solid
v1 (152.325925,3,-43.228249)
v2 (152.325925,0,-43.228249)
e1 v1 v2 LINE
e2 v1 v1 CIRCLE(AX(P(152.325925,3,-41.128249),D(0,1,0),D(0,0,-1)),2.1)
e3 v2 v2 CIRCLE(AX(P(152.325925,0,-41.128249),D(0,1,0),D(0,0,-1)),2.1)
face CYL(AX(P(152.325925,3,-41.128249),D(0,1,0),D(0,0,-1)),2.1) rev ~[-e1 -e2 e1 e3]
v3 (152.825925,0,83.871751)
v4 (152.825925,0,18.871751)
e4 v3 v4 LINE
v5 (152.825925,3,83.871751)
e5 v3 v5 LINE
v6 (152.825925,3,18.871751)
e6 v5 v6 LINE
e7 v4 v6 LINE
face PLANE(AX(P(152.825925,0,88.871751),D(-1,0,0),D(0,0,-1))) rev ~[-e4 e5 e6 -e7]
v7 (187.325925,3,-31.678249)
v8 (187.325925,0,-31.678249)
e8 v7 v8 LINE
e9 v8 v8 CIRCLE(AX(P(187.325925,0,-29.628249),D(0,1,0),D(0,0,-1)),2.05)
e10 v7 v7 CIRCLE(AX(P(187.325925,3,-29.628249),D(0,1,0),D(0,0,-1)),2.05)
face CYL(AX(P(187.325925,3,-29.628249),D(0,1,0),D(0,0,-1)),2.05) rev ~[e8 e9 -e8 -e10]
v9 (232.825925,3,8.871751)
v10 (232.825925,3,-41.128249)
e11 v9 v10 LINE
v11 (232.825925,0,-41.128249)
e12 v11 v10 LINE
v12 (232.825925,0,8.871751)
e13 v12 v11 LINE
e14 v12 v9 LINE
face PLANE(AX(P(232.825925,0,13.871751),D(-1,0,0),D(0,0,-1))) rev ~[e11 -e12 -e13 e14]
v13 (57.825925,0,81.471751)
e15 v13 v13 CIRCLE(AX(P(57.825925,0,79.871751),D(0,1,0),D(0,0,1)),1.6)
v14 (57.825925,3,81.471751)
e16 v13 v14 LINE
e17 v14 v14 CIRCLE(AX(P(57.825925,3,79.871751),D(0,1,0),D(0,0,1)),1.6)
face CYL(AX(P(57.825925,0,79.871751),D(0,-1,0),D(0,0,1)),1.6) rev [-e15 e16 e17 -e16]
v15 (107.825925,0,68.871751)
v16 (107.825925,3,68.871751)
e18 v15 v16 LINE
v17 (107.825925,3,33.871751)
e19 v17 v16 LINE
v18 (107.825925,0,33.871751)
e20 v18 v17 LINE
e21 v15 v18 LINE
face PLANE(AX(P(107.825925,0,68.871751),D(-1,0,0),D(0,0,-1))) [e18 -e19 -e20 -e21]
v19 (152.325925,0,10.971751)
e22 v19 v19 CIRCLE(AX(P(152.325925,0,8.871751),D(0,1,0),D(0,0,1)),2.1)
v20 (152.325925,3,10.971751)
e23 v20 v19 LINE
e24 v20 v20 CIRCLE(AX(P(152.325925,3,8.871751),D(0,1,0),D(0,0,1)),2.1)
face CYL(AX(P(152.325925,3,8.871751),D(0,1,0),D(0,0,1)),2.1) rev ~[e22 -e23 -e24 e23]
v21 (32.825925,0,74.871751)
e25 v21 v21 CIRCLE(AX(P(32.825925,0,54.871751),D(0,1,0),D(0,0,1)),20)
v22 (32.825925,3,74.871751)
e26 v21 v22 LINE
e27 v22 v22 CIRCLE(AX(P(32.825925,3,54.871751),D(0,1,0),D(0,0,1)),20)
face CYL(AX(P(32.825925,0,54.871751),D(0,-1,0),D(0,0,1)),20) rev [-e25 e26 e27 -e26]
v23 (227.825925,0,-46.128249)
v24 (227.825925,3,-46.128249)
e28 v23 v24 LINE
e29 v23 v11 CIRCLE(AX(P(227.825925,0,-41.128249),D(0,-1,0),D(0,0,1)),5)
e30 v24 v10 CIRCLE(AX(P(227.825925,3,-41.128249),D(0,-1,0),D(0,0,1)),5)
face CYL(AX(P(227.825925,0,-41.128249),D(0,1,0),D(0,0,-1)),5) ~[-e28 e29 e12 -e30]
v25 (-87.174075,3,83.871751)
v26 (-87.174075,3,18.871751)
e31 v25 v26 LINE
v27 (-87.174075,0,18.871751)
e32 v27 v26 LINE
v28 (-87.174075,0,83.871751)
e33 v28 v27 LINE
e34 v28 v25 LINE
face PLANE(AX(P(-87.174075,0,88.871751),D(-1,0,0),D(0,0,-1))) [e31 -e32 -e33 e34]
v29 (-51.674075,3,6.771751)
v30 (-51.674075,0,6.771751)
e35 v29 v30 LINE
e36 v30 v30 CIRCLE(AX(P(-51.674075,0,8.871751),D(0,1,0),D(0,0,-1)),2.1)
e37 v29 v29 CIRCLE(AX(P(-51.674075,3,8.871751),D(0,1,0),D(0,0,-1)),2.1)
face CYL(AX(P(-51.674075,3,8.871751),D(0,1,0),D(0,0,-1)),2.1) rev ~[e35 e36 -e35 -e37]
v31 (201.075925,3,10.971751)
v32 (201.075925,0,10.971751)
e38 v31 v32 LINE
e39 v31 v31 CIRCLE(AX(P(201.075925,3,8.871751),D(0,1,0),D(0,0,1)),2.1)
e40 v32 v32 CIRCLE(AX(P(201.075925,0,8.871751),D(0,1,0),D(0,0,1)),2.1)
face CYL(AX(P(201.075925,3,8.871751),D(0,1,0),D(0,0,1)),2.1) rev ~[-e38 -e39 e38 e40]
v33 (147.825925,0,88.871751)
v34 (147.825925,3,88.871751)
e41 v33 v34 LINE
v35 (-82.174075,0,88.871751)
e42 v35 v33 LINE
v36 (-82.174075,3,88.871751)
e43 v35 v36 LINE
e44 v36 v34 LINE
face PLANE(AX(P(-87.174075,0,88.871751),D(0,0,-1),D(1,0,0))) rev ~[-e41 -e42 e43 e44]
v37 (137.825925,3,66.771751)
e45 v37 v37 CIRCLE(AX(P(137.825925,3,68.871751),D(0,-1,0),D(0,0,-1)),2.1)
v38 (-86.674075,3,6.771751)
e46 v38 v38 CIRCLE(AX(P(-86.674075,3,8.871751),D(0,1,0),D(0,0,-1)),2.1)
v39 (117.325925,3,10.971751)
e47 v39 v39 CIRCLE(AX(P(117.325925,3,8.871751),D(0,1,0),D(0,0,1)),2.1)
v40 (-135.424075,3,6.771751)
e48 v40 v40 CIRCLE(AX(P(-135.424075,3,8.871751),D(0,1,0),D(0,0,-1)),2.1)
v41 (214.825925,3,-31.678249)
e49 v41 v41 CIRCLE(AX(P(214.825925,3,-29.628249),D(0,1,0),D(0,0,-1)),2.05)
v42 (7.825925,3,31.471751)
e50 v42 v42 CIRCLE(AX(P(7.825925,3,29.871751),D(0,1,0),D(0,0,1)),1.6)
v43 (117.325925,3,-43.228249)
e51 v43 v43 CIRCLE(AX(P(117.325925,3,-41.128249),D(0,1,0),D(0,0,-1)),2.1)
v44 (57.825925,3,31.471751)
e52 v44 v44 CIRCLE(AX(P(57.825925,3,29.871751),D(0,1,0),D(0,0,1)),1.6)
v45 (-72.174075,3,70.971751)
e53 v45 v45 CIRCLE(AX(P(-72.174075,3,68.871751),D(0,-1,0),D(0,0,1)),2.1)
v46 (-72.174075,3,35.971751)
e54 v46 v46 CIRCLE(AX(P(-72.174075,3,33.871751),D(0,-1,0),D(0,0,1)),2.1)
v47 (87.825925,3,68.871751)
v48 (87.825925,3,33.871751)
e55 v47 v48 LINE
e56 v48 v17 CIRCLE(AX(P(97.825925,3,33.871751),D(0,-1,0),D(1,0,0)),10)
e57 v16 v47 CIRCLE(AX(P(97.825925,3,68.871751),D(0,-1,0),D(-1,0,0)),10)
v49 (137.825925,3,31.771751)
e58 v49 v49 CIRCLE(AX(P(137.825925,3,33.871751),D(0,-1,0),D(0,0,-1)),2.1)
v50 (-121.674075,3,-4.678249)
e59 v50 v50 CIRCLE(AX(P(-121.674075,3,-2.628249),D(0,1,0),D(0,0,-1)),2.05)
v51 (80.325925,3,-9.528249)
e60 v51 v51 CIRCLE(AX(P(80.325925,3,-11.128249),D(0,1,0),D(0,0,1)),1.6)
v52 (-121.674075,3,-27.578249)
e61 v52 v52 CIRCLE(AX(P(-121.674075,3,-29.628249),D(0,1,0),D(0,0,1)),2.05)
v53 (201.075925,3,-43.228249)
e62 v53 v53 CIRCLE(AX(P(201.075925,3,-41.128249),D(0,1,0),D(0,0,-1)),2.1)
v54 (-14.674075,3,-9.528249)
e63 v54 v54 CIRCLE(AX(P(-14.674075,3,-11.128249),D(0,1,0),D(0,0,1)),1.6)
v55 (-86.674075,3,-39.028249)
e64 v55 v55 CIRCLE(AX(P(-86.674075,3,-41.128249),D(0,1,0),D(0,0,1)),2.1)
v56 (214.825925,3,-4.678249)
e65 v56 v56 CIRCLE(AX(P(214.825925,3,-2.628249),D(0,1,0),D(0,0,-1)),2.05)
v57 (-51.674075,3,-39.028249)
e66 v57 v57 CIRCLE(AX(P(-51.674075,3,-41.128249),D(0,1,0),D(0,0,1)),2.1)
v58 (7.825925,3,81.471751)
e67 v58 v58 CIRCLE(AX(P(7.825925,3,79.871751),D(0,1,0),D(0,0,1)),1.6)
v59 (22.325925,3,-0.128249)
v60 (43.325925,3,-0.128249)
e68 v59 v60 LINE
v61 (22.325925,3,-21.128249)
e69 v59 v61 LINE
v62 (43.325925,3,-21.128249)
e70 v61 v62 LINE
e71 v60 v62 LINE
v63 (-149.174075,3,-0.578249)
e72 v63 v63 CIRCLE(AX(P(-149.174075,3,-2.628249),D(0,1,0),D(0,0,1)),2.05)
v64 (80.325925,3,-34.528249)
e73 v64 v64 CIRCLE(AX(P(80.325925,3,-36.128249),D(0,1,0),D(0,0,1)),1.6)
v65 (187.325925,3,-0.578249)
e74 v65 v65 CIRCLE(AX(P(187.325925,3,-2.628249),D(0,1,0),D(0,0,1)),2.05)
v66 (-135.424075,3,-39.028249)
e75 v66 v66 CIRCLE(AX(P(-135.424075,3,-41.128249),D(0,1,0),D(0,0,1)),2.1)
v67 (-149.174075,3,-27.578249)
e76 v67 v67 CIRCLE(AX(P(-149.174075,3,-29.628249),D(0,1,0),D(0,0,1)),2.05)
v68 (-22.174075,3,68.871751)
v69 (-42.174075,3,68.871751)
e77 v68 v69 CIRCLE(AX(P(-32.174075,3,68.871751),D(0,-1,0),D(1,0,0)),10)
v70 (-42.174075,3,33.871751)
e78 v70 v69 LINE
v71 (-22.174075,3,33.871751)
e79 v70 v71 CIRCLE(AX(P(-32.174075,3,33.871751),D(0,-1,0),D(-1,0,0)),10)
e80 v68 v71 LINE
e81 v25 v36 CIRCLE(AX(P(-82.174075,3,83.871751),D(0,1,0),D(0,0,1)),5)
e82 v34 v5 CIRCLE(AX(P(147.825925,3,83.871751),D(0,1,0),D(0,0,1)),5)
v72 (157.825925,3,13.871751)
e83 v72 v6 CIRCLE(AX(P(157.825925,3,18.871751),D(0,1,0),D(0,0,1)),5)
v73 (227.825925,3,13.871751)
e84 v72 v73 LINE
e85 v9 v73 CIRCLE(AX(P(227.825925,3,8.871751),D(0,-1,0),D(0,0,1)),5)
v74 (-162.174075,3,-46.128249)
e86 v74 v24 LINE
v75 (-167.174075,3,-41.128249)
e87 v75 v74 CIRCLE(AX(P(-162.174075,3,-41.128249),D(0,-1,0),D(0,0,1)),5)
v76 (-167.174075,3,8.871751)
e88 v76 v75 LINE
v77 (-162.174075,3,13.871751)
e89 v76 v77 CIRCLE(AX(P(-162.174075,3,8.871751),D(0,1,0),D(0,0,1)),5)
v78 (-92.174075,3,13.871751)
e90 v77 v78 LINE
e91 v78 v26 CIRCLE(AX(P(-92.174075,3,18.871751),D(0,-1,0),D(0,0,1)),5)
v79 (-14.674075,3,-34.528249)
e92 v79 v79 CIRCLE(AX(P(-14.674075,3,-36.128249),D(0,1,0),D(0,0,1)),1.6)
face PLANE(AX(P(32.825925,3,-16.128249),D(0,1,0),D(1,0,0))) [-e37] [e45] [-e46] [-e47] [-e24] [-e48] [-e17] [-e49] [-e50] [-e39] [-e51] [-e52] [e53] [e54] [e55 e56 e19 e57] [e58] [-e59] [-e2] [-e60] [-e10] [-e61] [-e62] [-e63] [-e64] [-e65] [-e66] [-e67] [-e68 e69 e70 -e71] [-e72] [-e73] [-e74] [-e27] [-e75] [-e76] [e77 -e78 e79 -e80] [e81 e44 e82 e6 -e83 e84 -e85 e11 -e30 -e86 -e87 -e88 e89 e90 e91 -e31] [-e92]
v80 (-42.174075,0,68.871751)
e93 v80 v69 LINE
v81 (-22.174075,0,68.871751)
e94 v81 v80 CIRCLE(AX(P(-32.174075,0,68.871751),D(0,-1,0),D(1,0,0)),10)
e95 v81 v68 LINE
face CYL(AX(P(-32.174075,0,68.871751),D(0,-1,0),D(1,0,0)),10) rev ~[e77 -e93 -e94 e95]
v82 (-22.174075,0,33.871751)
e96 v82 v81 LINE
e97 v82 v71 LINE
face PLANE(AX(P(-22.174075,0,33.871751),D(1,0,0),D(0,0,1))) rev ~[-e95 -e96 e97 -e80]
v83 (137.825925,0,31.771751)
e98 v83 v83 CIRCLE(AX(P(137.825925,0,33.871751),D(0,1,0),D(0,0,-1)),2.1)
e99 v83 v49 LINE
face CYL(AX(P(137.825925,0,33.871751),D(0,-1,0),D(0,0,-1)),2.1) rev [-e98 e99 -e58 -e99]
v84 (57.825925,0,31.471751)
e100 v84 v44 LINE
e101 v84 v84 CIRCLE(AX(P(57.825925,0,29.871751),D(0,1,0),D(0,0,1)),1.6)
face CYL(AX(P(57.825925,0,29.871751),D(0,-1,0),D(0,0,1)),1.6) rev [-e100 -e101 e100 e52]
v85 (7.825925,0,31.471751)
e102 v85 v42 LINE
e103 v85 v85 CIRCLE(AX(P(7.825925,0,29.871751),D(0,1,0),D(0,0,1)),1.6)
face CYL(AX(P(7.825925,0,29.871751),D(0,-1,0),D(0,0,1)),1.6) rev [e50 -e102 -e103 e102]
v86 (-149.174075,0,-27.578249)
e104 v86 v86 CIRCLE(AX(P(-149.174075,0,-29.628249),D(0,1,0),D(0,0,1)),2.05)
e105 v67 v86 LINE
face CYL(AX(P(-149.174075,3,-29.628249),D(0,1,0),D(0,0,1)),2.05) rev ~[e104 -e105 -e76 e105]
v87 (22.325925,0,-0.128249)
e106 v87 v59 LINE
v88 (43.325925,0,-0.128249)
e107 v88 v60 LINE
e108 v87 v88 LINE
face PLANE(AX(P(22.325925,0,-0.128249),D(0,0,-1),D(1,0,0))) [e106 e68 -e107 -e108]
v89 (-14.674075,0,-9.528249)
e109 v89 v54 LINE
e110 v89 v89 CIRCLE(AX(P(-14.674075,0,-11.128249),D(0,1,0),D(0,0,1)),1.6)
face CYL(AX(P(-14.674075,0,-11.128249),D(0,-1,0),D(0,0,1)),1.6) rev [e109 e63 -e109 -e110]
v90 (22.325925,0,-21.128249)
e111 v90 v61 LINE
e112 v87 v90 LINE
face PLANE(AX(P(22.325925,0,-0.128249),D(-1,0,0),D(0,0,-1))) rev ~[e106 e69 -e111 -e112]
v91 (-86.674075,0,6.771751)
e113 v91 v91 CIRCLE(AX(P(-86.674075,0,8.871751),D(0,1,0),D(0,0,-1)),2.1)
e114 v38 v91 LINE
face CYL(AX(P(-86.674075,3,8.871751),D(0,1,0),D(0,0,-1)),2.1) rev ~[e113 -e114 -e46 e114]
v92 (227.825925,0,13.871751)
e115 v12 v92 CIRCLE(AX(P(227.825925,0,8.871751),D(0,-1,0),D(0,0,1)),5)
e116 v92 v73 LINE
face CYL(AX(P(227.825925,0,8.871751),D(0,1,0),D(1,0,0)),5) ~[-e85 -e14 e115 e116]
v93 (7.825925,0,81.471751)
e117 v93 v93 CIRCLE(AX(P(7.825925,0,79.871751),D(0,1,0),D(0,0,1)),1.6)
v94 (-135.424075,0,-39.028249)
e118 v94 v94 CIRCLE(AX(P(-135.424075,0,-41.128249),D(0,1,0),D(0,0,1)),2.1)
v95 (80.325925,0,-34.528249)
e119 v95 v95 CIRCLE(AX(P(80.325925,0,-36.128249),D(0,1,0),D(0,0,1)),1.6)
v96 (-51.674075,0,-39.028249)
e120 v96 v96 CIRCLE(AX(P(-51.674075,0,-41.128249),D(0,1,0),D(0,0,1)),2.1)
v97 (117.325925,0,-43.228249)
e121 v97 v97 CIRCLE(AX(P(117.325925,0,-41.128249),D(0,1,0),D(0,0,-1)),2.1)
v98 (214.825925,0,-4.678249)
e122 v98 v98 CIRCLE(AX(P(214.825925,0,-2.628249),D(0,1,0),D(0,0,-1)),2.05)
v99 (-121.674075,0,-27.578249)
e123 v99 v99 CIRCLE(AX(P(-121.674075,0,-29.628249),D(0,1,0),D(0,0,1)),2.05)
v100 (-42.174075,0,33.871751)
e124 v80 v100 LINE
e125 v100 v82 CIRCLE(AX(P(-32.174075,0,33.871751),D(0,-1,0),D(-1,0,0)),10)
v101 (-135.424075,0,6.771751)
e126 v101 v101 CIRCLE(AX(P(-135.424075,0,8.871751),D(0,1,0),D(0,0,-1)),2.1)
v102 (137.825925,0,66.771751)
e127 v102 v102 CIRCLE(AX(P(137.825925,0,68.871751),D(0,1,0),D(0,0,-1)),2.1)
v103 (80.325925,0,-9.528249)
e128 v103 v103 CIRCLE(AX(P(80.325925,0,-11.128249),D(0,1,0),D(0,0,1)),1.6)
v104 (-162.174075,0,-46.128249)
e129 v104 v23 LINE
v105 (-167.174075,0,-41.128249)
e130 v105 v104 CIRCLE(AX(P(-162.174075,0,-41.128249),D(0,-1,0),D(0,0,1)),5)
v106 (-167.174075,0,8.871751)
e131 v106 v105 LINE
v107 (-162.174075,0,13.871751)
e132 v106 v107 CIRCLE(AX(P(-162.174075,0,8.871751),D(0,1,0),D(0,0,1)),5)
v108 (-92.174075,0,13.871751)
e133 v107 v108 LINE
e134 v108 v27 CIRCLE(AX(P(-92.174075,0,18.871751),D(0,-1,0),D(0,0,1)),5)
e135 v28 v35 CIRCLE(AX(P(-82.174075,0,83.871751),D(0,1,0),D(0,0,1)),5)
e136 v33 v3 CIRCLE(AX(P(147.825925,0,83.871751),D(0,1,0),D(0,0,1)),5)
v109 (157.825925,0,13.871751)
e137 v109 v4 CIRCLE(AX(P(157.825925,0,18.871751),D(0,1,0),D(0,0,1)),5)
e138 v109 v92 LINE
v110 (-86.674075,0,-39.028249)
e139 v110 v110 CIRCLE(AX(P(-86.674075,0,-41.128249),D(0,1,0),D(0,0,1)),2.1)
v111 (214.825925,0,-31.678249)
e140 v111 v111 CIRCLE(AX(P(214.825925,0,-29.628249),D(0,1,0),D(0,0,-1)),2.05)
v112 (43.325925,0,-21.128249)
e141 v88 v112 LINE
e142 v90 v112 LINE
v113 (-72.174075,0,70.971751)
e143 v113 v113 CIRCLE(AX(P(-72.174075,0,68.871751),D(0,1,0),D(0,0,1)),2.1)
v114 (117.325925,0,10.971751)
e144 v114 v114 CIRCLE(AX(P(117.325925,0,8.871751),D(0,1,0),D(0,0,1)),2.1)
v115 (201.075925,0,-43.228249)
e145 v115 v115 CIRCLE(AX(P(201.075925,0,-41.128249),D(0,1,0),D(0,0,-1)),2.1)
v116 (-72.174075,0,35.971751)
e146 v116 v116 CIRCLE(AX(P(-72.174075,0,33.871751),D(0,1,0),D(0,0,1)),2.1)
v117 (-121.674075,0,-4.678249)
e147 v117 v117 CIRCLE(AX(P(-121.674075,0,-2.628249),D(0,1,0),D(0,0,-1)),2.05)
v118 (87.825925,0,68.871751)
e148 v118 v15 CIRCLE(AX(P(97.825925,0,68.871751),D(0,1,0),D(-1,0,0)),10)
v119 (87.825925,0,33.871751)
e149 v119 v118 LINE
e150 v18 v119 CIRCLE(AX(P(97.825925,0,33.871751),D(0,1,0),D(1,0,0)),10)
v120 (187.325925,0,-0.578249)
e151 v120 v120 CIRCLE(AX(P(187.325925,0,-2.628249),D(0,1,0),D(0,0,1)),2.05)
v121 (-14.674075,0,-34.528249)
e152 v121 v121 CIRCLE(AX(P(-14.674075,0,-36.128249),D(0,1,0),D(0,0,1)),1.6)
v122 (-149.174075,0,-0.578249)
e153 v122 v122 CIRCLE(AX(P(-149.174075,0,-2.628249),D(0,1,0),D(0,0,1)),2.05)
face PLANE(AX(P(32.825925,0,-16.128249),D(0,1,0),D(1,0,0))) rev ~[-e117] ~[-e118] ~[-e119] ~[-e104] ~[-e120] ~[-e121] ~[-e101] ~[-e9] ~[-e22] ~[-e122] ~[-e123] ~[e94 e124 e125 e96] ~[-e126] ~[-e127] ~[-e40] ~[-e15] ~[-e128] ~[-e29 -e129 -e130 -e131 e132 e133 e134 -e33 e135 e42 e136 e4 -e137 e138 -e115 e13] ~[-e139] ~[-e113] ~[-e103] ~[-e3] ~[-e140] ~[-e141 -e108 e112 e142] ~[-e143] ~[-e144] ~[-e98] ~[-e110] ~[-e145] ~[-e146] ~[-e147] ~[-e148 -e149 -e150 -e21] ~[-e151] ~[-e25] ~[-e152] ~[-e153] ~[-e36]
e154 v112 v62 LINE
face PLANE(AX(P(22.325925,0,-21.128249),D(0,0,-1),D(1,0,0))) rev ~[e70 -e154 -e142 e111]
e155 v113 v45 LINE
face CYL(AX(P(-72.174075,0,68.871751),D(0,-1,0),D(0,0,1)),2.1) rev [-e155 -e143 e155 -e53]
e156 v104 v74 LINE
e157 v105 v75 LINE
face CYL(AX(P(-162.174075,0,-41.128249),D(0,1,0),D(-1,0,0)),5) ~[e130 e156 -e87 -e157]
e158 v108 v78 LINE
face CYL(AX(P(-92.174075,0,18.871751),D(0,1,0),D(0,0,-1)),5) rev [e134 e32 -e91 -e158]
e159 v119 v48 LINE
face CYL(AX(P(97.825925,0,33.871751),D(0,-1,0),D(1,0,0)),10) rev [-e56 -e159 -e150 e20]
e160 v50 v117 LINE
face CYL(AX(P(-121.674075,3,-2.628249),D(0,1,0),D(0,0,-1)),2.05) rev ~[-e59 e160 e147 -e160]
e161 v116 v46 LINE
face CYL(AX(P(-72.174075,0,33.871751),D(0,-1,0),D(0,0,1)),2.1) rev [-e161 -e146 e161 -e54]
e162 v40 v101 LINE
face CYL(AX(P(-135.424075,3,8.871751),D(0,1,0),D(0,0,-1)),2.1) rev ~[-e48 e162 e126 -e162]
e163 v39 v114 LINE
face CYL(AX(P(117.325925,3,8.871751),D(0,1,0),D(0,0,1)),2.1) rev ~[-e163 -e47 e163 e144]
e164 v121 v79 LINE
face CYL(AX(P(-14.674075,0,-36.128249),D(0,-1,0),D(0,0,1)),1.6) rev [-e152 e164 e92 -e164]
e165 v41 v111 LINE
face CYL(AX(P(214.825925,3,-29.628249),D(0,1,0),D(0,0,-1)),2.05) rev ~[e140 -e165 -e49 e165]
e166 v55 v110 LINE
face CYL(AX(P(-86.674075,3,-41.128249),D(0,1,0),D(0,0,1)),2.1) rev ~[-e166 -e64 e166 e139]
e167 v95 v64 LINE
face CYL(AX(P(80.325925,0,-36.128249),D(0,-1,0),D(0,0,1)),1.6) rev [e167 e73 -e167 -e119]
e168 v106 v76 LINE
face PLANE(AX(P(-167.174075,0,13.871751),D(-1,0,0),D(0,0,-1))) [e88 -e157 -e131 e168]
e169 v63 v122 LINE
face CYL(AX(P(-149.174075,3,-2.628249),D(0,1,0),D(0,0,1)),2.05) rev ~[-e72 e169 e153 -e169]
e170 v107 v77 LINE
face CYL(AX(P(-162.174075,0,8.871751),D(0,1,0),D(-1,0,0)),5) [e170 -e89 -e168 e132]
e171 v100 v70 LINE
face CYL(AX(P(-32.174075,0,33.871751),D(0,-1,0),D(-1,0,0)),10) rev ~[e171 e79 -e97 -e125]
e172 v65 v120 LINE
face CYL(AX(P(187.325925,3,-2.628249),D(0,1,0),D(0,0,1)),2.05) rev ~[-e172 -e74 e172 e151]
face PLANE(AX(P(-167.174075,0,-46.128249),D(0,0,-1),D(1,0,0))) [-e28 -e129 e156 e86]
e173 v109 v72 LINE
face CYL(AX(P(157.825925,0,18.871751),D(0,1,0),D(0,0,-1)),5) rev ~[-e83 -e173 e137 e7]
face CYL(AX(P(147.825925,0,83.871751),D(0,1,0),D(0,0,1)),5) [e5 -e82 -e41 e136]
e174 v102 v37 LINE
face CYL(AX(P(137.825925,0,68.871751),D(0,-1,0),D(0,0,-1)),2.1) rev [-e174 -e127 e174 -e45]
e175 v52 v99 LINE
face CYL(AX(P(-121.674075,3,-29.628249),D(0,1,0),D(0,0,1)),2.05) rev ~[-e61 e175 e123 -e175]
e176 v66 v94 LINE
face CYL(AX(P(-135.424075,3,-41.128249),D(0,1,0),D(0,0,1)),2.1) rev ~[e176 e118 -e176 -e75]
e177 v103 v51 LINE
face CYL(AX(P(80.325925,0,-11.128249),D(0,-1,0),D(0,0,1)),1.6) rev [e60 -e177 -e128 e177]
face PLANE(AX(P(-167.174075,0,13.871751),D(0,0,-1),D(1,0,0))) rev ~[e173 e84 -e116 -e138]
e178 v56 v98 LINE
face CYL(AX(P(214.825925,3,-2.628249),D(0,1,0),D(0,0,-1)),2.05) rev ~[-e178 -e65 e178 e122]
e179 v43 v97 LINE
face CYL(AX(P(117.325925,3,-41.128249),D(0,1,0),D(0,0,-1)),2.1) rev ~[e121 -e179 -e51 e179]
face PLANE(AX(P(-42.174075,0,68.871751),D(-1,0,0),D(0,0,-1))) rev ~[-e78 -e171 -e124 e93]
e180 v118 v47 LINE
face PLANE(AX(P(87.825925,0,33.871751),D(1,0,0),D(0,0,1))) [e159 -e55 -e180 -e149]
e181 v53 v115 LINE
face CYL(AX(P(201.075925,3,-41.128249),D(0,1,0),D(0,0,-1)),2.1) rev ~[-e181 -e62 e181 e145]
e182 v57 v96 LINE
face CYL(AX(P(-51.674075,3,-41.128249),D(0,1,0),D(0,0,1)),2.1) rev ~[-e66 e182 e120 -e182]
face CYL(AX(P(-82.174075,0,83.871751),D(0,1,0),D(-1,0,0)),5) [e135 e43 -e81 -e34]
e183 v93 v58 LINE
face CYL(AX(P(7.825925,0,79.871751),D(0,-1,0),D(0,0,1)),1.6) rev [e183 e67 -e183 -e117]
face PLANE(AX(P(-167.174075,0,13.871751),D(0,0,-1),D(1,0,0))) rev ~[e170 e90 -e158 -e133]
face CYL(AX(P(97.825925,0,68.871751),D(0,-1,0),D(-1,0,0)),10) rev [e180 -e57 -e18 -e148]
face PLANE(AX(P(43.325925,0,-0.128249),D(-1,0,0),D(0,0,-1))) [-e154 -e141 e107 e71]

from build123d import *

# Parameters (mm, degrees)
SKETCH_1_W          = 400
SKETCH_1_H          = 60
SKETCH_1_R          = 1.6
SKETCH_1_W_2        = 21
SKETCH_1_H_2        = 21
SKETCH_1_W_3        = 240
SKETCH_1_H_3        = 75
SKETCH_1_R_2        = 20
EXTRUDE_1466_DEPTH  = 3
SKETCH_2_R          = 2.05
SKETCH_2_R_2        = 2.1
CUT_EXTRUDE_1_DEPTH = 250.229009796
FILLET_1_R          = 5
SKETCH1_R           = 2.1
CUT_EXTRUDE4_DEPTH  = 250.229009796


with BuildPart() as part:
    # 草图1 → Extrude 1466 (new body)
    # profile 1 of 2: a face of its own
    with BuildSketch(Plane(origin=(0, 0, 0), x_dir=(1, 0, 0), z_dir=(0, 1, 0))):
        with Locations((32.825924772, 16.128249268)):
            Rectangle(SKETCH_1_W, SKETCH_1_H)
        with Locations(Location((-14.674075228, 36.128249268, 0), (0, 0, 270))):
            Circle(SKETCH_1_R, mode=Mode.SUBTRACT)
        with Locations(Location((-14.674075228, 11.128249268, 0), (0, 0, 270))):
            Circle(SKETCH_1_R, mode=Mode.SUBTRACT)
        with Locations(Location((80.325924772, 11.128249268, 0), (0, 0, 270))):
            Circle(SKETCH_1_R, mode=Mode.SUBTRACT)
        with Locations(Location((80.325924772, 36.128249268, 0), (0, 0, 270))):
            Circle(SKETCH_1_R, mode=Mode.SUBTRACT)
        with Locations((32.825924772, 10.628249268)):
            Rectangle(SKETCH_1_W_2, SKETCH_1_H_2, mode=Mode.SUBTRACT)
    # profile 2 of 2: a face of its own
    with BuildSketch(Plane(origin=(0, 0, 0), x_dir=(1, 0, 0), z_dir=(0, 1, 0))):
        with Locations((32.825924772, -51.371750732)):
            Rectangle(SKETCH_1_W_3, SKETCH_1_H_3)
        with Locations(Location((7.825924772, -29.871750732, 0), (0, 0, 270))):
            Circle(SKETCH_1_R, mode=Mode.SUBTRACT)
        with Locations(Location((7.825924772, -79.871750732, 0), (0, 0, 270))):
            Circle(SKETCH_1_R, mode=Mode.SUBTRACT)
        with Locations(Location((57.825924772, -79.871750732, 0), (0, 0, 270))):
            Circle(SKETCH_1_R, mode=Mode.SUBTRACT)
        with Locations(Location((57.825924772, -29.871750732, 0), (0, 0, 270))):
            Circle(SKETCH_1_R, mode=Mode.SUBTRACT)
        with Locations(Location((32.825924772, -54.871750732, 0), (0, 0, 270))):
            Circle(SKETCH_1_R_2, mode=Mode.SUBTRACT)
    extrude(amount=EXTRUDE_1466_DEPTH)

    # 草图2 → 切除-拉伸1 (cut, through all)
    with BuildSketch(Plane(origin=(0, 3, 0), x_dir=(1, 0, 0), z_dir=(0, 1, 0))):
        with Locations(Location((-149.174075228, 29.628249268, 0), (0, 0, 270))):
            Circle(SKETCH_2_R)
        with Locations(Location((-149.174075228, 2.628249268, 0), (0, 0, 270))):
            Circle(SKETCH_2_R)
        with Locations(Location((-121.674075228, 29.628249268, 0), (0, 0, 270))):
            Circle(SKETCH_2_R)
        with Locations(Location((-121.674075228, 2.628249268, 0), (0, 0, 90))):
            Circle(SKETCH_2_R)
        with Locations(Location((-51.674075228, 41.128249268, 0), (0, 0, 270))):
            Circle(SKETCH_2_R_2)
        with Locations(Location((-86.674075228, 41.128249268, 0), (0, 0, 270))):
            Circle(SKETCH_2_R_2)
        with Locations(Location((-51.674075228, -8.871750732, 0), (0, 0, 90))):
            Circle(SKETCH_2_R_2)
        with Locations(Location((-86.674075228, -8.871750732, 0), (0, 0, 90))):
            Circle(SKETCH_2_R_2)
        with Locations(Location((-135.424075228, 41.128249268, 0), (0, 0, 270))):
            Circle(SKETCH_2_R_2)
        with Locations(Location((-135.424075228, -8.871750732, 0), (0, 0, 90))):
            Circle(SKETCH_2_R_2)
        with Locations(Location((201.075924772, -8.871750732, 0), (0, 0, 270))):
            Circle(SKETCH_2_R_2)
        with Locations(Location((201.075924772, 41.128249268, 0), (0, 0, 90))):
            Circle(SKETCH_2_R_2)
        with Locations(Location((152.325924772, -8.871750732, 0), (0, 0, 270))):
            Circle(SKETCH_2_R_2)
        with Locations(Location((117.325924772, -8.871750732, 0), (0, 0, 270))):
            Circle(SKETCH_2_R_2)
        with Locations(Location((152.325924772, 41.128249268, 0), (0, 0, 90))):
            Circle(SKETCH_2_R_2)
        with Locations(Location((117.325924772, 41.128249268, 0), (0, 0, 90))):
            Circle(SKETCH_2_R_2)
        with Locations(Location((187.325924772, 2.628249268, 0), (0, 0, 270))):
            Circle(SKETCH_2_R)
        with Locations(Location((187.325924772, 29.628249268, 0), (0, 0, 90))):
            Circle(SKETCH_2_R)
        with Locations(Location((214.825924772, 2.628249268, 0), (0, 0, 90))):
            Circle(SKETCH_2_R)
        with Locations(Location((214.825924772, 29.628249268, 0), (0, 0, 90))):
            Circle(SKETCH_2_R)
    extrude(amount=-CUT_EXTRUDE_1_DEPTH, mode=Mode.SUBTRACT)

    # 圆角1
    fillet_1_edges = [part.edges().sort_by_distance(p)[0] for p in [
        (-167.174075228, 1.5, 13.871750732),
        (-167.174075228, 1.5, -46.128249268),
        (232.825924772, 1.5, -46.128249268),
        (232.825924772, 1.5, 13.871750732),
        (152.825924772, 1.5, 13.871750732),
        (152.825924772, 1.5, 88.871750732),
        (-87.174075228, 1.5, 88.871750732),
        (-87.174075228, 1.5, 13.871750732),
    ]]
    fillet(fillet_1_edges, radius=FILLET_1_R)

    # Sketch1 → Cut-Extrude4 (cut, through all)
    with BuildSketch(Plane(origin=(0, 0, 0), x_dir=(1, 0, 0), z_dir=(0, 1, 0))):
        with Locations(Location((-72.174075228, -33.871750732, 0), (0, 0, 270))):
            Circle(SKETCH1_R)
        with Locations(Location((-72.174075228, -68.871750732, 0), (0, 0, 270))):
            Circle(SKETCH1_R)
        with Locations(Location((137.825924772, -68.871750732, 0), (0, 0, 90))):
            Circle(SKETCH1_R)
        with Locations(Location((137.825924772, -33.871750732, 0), (0, 0, 90))):
            Circle(SKETCH1_R)
        with BuildLine():
            Line((-42.174075228, -68.871750732), (-42.174075228, -33.871750732))
            ThreePointArc((-42.174075228, -33.871750732), (-32.174075228, -23.871750732), (-22.174075228, -33.871750732))
            Line((-22.174075228, -33.871750732), (-22.174075228, -68.871750732))
            ThreePointArc((-22.174075228, -68.871750732), (-32.174075228, -78.871750732), (-42.174075228, -68.871750732))
        make_face()
        with BuildLine():
            Line((107.825924772, -68.871750732), (107.825924772, -33.871750732))
            ThreePointArc((107.825924772, -33.871750732), (97.825924772, -23.871750732), (87.825924772, -33.871750732))
            Line((87.825924772, -33.871750732), (87.825924772, -68.871750732))
            ThreePointArc((87.825924772, -68.871750732), (97.825924772, -78.871750732), (107.825924772, -68.871750732))
        make_face()
    extrude(amount=CUT_EXTRUDE4_DEPTH, mode=Mode.SUBTRACT)


solid = part.part
